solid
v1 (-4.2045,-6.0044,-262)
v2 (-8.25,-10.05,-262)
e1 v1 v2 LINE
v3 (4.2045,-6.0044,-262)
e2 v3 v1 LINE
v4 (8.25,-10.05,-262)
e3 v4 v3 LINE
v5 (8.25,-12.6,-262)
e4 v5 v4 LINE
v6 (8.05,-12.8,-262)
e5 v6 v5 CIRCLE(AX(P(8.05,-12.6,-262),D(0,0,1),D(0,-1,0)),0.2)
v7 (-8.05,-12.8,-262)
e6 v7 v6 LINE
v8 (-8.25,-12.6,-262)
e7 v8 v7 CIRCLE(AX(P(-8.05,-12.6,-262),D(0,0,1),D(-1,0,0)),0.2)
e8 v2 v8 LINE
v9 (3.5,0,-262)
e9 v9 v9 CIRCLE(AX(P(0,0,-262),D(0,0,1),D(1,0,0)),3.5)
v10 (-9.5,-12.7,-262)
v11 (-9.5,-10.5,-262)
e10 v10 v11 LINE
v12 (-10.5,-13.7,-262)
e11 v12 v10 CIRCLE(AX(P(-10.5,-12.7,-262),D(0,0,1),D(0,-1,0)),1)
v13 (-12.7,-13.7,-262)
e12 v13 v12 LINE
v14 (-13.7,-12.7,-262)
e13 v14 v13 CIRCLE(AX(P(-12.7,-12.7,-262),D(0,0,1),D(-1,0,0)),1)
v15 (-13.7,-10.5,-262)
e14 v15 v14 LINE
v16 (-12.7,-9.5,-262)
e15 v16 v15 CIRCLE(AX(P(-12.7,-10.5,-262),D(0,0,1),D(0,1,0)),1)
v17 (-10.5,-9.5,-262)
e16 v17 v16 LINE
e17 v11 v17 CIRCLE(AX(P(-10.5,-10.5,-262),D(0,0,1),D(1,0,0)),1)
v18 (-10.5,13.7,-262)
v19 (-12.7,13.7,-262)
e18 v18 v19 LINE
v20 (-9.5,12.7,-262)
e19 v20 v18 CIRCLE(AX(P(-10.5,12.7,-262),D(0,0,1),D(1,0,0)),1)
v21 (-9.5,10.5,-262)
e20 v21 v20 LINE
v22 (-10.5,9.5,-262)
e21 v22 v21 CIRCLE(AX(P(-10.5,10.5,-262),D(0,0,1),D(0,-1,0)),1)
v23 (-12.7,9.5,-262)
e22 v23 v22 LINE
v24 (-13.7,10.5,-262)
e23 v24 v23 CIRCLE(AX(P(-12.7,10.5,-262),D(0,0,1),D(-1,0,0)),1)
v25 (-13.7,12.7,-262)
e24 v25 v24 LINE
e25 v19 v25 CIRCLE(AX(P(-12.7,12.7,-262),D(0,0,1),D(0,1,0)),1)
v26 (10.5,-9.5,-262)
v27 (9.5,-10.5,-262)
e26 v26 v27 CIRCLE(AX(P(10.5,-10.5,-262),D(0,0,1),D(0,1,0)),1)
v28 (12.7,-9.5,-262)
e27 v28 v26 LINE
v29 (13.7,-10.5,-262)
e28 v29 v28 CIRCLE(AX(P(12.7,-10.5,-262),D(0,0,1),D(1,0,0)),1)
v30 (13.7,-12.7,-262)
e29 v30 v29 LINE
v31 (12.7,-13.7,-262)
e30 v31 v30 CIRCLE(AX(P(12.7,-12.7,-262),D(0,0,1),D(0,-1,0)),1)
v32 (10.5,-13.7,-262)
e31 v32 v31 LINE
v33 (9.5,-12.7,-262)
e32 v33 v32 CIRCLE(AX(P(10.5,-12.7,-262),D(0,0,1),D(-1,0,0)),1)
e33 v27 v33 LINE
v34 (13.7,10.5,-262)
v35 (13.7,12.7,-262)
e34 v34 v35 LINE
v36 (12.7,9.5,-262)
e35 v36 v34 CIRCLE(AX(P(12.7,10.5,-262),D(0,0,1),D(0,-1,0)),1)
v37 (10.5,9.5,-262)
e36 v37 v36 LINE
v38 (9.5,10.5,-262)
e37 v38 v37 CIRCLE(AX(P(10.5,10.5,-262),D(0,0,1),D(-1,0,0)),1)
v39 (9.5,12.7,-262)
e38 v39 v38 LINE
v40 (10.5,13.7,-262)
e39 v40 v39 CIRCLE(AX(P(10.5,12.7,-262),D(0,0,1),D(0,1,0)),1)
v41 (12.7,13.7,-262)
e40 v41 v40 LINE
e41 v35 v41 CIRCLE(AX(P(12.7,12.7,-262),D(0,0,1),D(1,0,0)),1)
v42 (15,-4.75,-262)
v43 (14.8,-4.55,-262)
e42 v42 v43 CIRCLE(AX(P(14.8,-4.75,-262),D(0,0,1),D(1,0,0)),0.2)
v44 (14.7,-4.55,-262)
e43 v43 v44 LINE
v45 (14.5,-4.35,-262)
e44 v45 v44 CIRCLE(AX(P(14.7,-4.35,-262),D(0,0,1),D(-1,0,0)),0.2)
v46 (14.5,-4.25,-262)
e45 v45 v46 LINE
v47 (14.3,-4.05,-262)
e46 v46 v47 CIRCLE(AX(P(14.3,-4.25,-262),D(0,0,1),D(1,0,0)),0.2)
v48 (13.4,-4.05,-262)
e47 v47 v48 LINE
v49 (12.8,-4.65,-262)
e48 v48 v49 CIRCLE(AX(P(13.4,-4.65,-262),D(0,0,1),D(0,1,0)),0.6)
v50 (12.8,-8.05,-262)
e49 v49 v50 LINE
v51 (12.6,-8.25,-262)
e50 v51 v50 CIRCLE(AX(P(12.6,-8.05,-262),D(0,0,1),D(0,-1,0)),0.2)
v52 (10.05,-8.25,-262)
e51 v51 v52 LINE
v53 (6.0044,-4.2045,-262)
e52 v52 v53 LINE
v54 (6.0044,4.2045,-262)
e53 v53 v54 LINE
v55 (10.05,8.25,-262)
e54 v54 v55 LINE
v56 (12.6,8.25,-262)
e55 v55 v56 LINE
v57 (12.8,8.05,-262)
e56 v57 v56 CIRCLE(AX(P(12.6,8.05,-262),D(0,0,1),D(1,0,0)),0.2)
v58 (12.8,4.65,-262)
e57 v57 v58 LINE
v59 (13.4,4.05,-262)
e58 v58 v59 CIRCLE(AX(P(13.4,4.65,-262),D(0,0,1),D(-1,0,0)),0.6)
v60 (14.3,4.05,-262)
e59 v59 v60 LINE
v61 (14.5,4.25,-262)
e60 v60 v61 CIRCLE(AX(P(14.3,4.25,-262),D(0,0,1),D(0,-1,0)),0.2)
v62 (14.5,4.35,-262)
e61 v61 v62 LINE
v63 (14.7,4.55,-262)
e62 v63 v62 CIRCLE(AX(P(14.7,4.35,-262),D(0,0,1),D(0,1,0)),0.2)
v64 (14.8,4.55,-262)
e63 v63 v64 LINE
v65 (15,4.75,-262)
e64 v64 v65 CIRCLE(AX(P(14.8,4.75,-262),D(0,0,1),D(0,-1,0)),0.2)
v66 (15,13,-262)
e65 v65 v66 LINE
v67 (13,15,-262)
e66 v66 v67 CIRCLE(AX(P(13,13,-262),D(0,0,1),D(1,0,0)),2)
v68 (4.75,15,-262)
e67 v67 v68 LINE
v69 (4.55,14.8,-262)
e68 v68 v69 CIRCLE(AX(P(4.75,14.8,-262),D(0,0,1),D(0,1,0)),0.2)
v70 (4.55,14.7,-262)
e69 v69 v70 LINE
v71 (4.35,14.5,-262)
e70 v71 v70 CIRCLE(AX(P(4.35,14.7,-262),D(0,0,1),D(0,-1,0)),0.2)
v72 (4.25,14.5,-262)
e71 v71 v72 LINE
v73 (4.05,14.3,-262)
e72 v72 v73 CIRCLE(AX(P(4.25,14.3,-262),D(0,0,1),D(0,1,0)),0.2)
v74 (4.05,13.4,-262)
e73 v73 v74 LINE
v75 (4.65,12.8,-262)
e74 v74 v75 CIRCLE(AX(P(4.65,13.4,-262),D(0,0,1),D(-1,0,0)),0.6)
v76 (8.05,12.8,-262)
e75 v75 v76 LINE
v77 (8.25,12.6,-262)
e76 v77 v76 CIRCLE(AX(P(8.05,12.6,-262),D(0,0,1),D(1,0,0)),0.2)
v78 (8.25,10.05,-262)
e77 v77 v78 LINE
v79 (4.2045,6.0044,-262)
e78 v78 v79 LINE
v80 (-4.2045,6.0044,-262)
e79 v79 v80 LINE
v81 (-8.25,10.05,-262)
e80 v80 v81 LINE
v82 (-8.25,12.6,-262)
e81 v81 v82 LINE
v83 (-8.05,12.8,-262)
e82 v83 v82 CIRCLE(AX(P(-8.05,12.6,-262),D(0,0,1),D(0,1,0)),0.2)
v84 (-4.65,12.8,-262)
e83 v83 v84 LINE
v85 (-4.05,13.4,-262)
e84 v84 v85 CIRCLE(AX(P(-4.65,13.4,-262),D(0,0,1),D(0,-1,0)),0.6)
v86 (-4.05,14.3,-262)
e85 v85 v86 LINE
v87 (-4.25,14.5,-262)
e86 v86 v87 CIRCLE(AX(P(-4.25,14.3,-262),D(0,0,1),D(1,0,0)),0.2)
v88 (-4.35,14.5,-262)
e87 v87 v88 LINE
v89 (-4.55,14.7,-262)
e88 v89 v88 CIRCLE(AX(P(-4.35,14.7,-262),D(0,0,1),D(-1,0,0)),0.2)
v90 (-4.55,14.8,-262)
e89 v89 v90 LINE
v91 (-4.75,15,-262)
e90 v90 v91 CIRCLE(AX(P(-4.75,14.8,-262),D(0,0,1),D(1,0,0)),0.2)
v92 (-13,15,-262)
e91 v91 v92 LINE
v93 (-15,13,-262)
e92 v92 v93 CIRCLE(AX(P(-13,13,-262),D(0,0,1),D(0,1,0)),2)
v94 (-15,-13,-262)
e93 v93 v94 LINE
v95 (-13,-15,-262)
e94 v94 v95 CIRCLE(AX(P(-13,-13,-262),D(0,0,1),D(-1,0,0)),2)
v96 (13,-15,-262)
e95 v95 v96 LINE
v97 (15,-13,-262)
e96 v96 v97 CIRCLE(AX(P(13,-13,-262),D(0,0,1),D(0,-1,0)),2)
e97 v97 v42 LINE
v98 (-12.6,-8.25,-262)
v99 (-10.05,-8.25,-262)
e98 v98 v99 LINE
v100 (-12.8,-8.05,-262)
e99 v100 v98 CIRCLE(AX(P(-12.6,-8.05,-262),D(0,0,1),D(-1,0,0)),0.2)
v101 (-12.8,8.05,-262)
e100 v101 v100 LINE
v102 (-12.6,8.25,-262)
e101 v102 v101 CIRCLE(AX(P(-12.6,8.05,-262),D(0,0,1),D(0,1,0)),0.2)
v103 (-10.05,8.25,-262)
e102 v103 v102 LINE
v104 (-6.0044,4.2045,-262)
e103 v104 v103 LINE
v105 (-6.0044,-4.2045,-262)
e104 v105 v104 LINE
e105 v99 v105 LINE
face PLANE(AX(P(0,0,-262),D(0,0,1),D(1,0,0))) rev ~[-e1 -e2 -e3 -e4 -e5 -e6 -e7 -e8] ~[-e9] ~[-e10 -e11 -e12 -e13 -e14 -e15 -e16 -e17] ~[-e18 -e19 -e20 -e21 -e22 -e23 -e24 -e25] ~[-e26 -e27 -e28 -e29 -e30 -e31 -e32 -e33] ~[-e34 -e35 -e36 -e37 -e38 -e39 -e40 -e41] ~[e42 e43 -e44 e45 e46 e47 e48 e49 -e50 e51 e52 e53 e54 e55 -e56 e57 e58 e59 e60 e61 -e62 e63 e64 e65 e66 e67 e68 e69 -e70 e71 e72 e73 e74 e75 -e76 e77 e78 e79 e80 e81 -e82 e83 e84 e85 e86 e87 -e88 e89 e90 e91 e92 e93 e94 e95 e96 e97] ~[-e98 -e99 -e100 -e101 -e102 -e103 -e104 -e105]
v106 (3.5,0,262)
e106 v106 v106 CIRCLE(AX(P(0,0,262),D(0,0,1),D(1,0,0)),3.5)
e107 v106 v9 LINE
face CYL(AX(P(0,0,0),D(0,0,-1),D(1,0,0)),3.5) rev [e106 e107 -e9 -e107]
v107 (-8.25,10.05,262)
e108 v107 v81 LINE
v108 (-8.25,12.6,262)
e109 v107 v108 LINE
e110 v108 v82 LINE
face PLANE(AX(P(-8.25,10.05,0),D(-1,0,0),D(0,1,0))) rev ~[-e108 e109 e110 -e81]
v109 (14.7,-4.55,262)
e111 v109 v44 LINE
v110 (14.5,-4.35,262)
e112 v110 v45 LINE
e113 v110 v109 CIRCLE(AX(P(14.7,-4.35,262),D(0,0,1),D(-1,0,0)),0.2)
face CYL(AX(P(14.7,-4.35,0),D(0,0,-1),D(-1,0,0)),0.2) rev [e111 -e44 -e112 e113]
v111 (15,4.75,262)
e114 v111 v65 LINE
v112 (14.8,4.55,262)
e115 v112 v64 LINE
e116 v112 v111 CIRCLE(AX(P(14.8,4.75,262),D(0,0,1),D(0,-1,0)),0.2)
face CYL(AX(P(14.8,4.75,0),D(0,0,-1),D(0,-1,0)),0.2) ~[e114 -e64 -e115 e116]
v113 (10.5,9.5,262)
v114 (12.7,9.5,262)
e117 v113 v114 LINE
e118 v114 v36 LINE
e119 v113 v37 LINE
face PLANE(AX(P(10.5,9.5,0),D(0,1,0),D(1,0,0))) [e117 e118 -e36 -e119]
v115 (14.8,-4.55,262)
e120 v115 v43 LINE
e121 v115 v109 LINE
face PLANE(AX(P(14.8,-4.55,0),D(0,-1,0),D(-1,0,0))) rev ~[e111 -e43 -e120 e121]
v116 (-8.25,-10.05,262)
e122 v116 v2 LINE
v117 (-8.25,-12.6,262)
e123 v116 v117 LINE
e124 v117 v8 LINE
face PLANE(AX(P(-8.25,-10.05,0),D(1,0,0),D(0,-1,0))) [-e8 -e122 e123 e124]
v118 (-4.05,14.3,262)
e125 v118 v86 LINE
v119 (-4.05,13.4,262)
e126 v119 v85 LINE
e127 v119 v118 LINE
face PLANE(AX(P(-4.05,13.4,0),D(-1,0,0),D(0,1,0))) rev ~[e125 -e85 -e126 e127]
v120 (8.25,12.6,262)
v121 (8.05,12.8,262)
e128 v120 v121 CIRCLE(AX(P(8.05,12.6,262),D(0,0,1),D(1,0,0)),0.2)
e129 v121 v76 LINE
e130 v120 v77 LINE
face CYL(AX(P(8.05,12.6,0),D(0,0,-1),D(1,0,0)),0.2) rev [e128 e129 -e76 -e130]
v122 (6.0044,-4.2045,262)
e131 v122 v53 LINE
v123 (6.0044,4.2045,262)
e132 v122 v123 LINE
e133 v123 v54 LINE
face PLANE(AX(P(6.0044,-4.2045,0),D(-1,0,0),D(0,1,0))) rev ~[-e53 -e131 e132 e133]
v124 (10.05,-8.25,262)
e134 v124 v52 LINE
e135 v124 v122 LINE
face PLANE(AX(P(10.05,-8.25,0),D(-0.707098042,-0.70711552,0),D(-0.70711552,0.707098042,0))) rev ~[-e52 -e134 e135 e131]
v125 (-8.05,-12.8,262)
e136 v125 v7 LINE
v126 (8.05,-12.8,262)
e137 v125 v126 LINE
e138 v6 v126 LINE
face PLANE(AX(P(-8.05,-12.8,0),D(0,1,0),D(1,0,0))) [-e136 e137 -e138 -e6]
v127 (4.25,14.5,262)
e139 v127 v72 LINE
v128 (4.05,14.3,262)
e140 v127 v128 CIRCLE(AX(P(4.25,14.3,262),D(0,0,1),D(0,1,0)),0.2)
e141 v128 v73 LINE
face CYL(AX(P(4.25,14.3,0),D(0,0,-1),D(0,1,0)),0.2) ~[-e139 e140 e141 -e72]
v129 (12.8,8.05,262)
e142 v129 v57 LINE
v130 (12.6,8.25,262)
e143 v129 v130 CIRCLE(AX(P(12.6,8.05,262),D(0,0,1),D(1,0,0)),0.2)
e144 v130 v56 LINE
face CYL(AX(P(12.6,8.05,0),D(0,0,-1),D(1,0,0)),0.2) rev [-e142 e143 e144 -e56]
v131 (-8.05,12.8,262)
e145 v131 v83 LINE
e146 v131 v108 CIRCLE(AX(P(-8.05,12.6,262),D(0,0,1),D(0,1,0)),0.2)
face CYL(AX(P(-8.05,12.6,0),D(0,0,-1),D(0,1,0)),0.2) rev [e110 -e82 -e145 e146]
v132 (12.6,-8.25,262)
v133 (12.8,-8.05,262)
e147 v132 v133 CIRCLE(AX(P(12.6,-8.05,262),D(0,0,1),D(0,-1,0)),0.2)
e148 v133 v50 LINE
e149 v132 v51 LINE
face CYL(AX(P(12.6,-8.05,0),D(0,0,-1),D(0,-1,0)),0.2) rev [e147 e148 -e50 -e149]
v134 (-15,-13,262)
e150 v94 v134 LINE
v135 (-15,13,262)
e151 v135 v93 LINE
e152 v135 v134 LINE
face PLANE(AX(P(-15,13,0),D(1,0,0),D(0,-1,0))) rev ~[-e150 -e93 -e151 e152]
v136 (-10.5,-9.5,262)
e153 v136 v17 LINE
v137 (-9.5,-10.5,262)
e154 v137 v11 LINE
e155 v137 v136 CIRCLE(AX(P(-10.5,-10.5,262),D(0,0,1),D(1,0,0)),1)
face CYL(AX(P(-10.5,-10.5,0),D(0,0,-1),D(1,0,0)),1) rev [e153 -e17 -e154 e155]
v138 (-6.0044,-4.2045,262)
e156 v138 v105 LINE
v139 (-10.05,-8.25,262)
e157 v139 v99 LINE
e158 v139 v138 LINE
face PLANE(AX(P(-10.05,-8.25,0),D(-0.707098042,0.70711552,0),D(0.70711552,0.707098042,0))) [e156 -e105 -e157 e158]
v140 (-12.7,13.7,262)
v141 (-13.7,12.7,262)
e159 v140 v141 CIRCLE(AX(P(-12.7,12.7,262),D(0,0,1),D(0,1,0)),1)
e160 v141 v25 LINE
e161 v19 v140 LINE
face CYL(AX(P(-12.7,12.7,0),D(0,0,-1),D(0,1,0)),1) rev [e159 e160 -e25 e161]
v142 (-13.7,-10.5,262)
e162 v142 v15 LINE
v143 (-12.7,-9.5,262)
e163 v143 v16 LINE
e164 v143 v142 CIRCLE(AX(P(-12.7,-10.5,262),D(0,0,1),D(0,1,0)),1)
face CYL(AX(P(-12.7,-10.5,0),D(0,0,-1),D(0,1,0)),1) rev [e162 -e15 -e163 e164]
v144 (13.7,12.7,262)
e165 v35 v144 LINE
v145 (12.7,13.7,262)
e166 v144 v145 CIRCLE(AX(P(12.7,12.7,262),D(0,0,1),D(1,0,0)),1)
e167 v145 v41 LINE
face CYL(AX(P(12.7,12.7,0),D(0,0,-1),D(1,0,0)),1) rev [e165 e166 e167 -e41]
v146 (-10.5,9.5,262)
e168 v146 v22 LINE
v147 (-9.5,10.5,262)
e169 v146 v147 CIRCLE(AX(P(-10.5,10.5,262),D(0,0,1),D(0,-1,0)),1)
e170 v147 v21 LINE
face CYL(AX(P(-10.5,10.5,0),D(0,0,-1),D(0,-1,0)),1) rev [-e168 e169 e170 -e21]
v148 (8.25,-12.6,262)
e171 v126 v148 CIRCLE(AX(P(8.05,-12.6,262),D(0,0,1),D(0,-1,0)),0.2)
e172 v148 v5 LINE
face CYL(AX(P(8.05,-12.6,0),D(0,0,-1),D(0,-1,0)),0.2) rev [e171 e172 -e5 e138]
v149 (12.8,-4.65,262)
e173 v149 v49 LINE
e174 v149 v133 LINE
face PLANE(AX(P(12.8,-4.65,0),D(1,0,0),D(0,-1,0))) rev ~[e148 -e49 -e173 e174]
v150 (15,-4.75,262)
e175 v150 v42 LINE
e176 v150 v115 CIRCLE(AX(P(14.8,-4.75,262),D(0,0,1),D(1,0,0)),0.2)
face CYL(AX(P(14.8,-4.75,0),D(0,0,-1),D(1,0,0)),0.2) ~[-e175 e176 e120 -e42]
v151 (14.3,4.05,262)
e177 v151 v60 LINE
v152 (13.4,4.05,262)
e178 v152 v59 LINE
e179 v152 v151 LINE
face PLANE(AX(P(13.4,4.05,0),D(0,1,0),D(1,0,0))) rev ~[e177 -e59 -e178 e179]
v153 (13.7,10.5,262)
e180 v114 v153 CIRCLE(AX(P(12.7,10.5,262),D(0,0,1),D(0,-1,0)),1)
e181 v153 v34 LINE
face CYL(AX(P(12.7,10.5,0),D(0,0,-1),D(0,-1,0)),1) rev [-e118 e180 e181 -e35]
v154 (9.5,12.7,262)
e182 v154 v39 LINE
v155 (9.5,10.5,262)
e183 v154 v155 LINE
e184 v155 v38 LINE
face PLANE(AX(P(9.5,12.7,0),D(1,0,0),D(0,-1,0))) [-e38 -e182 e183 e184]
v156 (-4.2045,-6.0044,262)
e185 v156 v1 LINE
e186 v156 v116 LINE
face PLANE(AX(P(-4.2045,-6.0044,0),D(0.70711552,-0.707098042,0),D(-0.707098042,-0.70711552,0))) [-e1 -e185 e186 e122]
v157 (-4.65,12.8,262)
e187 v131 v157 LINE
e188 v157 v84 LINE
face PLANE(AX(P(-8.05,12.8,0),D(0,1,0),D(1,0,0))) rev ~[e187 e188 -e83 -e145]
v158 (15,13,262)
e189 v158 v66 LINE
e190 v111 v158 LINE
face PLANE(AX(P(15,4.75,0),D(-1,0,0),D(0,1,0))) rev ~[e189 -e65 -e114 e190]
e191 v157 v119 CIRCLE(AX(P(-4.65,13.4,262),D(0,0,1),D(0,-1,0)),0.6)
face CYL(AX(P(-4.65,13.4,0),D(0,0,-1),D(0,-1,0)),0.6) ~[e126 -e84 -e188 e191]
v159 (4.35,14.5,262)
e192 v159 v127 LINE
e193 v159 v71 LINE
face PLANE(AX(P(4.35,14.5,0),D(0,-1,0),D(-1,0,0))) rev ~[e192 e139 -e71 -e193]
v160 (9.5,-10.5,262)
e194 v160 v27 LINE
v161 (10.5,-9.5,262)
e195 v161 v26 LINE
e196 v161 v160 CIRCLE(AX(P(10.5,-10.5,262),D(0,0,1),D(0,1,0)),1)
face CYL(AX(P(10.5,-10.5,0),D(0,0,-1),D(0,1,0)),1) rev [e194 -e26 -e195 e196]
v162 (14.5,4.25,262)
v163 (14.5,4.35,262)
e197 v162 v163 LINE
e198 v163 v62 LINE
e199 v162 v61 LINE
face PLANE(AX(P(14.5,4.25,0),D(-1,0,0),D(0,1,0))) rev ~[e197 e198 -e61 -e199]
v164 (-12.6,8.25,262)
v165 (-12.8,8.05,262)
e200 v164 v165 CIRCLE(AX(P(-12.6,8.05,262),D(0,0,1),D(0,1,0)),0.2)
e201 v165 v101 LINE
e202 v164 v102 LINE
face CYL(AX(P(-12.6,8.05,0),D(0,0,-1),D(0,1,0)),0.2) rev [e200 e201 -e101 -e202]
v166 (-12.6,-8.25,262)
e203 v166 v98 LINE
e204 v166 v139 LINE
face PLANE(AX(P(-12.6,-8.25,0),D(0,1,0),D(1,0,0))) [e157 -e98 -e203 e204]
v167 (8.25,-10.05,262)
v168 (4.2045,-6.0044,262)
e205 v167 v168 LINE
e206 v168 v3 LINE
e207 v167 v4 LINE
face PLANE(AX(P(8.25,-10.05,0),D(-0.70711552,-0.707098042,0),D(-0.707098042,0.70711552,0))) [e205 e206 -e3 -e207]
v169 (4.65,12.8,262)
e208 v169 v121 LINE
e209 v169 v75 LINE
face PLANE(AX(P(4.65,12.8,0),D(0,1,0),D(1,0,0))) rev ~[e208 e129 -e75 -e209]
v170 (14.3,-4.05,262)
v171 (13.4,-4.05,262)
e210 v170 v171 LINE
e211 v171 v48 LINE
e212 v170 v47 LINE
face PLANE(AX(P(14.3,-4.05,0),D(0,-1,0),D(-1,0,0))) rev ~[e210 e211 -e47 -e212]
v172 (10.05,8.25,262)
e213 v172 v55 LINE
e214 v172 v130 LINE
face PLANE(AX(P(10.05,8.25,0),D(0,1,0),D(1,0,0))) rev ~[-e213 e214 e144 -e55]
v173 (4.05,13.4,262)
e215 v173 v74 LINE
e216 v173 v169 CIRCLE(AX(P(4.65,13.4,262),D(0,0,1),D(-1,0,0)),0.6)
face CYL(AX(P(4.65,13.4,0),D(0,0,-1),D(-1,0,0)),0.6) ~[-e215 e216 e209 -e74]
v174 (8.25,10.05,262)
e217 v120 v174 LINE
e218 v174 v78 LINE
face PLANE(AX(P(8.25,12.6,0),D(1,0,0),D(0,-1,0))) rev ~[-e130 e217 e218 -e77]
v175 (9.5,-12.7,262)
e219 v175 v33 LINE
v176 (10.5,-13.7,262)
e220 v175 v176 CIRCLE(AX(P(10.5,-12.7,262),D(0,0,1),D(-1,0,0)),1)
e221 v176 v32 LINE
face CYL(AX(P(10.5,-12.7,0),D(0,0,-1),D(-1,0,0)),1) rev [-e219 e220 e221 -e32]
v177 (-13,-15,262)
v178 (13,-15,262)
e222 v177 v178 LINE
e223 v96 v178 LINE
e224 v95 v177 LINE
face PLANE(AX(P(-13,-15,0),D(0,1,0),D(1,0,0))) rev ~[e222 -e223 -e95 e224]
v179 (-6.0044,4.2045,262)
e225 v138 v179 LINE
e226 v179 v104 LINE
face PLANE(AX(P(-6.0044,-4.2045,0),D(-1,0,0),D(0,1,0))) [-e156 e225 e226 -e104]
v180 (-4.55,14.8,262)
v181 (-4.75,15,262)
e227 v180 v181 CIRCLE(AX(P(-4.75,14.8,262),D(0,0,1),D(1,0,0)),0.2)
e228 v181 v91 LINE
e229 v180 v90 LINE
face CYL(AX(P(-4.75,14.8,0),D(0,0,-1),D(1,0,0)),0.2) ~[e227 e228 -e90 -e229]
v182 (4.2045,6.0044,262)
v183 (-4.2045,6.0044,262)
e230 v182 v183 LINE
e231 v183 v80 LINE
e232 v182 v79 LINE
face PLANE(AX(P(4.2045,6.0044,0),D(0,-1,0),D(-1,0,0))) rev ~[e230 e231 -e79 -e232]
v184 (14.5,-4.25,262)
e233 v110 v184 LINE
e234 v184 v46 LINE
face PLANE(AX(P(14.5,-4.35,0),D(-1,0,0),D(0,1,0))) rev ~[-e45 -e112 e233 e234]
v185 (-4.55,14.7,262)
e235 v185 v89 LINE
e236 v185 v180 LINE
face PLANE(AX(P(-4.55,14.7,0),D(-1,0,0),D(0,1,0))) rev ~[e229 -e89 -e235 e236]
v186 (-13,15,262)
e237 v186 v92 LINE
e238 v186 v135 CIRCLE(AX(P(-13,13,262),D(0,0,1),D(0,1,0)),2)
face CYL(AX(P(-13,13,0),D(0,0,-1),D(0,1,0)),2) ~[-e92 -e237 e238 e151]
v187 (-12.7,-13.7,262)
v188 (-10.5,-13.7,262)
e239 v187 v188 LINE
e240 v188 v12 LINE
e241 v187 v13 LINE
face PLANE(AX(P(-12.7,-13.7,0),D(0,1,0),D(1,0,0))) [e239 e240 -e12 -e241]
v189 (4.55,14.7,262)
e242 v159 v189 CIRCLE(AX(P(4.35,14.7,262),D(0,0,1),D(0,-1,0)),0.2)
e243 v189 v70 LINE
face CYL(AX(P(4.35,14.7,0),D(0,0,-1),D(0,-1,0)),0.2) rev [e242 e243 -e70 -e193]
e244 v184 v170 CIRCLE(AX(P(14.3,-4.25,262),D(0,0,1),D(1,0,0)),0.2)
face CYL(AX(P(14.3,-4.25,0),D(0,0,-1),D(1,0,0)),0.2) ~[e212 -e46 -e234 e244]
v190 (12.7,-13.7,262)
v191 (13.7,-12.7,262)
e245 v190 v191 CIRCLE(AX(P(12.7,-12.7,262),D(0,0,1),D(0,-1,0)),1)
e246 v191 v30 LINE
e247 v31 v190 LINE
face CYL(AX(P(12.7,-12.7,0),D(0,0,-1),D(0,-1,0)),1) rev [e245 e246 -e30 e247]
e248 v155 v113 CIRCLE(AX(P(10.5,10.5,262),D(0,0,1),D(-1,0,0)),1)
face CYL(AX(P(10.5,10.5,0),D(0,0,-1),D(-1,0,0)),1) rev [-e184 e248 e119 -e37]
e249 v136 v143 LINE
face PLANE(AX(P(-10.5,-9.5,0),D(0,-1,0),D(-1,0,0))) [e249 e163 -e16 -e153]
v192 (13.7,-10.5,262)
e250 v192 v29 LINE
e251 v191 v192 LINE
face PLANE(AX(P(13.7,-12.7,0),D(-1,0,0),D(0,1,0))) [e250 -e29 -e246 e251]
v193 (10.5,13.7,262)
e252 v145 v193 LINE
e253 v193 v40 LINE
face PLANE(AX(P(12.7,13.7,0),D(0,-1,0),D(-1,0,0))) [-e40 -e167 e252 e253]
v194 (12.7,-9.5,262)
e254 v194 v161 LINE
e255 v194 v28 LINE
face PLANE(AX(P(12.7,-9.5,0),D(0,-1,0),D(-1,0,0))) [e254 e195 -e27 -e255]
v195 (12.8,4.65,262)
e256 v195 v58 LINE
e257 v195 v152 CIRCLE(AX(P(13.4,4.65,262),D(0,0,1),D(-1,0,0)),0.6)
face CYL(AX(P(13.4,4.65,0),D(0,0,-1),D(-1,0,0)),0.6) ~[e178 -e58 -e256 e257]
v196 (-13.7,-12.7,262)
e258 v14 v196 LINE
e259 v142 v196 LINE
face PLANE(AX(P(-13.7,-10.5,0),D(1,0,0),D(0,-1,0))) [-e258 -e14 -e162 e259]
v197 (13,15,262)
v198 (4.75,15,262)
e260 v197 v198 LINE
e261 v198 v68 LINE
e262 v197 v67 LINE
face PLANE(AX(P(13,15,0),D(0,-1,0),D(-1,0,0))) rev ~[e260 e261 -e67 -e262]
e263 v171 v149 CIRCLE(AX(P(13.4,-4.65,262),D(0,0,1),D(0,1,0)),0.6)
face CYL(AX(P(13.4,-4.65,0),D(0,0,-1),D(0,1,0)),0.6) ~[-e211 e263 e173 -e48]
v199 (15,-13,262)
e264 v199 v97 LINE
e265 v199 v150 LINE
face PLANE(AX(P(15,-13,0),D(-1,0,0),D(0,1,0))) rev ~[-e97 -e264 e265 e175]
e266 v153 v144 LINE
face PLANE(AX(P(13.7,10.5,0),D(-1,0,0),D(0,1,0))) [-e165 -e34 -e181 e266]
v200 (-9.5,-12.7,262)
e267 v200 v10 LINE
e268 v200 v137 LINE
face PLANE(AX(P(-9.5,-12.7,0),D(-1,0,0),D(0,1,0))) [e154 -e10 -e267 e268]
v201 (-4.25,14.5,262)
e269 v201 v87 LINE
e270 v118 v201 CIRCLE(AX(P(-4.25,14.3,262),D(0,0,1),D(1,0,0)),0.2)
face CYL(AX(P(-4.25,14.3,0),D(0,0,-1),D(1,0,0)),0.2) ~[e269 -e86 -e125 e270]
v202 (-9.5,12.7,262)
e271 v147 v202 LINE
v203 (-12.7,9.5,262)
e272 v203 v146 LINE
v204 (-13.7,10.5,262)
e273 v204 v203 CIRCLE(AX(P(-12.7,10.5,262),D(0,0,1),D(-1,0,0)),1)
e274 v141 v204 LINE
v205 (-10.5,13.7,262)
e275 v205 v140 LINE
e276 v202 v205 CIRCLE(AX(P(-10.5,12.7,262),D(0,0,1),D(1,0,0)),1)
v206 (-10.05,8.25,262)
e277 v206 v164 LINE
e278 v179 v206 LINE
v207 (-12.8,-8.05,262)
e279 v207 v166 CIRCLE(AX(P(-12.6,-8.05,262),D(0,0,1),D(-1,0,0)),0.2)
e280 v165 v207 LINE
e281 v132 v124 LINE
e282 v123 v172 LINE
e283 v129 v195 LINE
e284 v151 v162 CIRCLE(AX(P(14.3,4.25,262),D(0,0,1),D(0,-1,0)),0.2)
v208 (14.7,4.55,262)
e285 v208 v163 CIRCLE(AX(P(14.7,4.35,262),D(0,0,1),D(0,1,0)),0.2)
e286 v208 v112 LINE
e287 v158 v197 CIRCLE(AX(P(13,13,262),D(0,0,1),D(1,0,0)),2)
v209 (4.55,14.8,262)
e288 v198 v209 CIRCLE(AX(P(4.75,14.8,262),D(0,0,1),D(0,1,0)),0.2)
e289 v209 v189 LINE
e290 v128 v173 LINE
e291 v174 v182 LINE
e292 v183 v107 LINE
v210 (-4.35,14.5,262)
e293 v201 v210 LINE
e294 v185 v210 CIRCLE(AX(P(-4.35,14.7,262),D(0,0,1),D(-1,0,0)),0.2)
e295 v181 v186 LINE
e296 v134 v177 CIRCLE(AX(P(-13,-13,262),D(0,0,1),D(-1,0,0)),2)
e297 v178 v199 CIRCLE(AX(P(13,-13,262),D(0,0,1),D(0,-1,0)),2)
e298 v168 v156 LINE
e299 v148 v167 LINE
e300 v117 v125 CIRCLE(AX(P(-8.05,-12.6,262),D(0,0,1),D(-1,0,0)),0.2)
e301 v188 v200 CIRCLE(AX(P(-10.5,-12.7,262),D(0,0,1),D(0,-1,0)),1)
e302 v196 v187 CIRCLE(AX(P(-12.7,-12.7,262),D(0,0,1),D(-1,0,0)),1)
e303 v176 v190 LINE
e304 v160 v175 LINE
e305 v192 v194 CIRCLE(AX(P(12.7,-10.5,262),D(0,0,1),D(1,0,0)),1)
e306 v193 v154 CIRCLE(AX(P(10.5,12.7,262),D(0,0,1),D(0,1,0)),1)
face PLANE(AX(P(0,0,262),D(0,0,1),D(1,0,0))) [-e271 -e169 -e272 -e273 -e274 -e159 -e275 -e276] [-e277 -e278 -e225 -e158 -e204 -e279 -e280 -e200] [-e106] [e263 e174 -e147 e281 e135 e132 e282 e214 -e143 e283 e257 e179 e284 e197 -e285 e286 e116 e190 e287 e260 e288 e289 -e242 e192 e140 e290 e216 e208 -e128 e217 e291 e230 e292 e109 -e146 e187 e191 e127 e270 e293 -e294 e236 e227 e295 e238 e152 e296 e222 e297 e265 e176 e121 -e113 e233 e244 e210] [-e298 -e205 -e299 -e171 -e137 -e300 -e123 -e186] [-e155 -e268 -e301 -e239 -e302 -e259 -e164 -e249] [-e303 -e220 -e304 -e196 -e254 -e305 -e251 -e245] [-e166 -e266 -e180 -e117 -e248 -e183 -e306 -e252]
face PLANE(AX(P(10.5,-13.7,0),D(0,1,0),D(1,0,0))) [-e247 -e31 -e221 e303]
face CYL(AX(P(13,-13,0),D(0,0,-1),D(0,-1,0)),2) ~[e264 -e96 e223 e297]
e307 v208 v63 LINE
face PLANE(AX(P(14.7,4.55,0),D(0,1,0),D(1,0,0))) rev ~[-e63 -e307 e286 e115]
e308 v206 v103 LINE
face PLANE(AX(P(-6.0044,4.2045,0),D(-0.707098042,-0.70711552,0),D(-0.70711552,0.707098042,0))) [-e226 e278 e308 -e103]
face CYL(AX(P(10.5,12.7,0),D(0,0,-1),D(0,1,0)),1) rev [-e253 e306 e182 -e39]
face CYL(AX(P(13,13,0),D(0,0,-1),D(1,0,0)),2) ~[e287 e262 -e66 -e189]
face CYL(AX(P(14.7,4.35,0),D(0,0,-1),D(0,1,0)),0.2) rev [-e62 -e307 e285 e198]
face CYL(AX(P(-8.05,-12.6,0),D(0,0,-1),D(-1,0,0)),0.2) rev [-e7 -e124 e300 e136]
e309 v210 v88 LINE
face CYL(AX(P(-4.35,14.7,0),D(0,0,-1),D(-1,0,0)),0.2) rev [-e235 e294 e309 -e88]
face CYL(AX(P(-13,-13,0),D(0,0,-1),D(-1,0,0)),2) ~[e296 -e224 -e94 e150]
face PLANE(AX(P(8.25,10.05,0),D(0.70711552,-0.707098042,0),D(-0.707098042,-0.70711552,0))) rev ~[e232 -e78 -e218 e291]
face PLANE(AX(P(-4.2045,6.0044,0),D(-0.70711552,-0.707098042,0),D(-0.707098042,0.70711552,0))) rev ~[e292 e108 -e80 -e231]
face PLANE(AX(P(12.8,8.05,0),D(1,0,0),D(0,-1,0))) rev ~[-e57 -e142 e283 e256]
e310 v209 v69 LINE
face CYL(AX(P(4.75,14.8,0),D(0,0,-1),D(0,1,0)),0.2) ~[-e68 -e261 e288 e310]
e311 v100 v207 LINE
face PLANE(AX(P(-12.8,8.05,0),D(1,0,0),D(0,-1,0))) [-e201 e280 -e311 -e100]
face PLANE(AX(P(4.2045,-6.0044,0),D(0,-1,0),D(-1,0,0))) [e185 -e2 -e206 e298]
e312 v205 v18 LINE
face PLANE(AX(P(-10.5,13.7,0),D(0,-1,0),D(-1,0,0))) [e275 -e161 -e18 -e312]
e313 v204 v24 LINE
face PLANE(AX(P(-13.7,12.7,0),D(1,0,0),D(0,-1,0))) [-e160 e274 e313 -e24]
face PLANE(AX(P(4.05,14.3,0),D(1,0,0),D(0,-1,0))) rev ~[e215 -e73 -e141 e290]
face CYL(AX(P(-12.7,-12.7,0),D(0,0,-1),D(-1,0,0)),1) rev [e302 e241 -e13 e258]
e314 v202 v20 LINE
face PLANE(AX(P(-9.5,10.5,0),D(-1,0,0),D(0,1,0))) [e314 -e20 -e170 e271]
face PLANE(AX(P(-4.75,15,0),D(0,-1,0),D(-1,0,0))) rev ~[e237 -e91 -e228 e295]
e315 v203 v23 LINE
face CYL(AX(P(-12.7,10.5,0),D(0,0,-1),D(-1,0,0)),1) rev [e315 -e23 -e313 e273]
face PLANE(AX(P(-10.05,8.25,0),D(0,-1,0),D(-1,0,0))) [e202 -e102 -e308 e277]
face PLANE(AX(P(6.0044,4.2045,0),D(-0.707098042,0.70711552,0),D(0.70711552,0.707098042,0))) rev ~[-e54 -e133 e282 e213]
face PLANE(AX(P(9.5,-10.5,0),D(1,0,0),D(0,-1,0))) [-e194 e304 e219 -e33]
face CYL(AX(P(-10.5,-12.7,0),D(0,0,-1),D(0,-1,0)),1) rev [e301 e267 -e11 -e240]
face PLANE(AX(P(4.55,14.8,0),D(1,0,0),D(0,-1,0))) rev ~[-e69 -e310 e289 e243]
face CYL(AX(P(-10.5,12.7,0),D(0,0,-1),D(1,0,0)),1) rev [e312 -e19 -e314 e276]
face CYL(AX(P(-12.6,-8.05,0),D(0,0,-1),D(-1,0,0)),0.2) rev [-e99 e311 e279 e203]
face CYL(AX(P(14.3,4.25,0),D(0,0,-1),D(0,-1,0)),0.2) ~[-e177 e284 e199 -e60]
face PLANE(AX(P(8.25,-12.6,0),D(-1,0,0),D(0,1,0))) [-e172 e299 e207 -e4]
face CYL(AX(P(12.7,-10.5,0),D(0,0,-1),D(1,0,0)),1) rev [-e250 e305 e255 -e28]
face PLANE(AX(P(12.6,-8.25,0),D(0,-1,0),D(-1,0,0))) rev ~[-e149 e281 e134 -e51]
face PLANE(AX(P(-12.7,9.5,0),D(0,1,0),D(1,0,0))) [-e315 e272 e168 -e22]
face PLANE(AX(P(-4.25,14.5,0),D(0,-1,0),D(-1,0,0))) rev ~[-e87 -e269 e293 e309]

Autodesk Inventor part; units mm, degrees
ref_plane "YZ Plane" through (0, 0, 0) normal (1, 0, 0) x (0, 1, 0)
ref_plane "XZ Plane" through (0, 0, 0) normal (0, 1, 0) x (-1, 0, 0)
ref_plane "XY Plane" through (0, 0, 0) normal (0, 0, 1) x (1, 0, 0)
feature "Boss-Extrude1" [suppressed]
sketch "Sketch1" plane through (0, 0, 0) normal (0, 0, 1) x (1, 0, 0)
  arc A0 (-15, -13) -> (-13, -15) centre (-13, -13) ccw projected
  line L0 (-13, -15) -> (13, -15) projected
  arc A1 (13, -15) -> (15, -13) centre (13, -13) ccw projected
  line L1 (15, -13) -> (15, -4.75) projected
  arc A2 (15, -4.75) -> (14.8, -4.55) centre (14.8, -4.75) ccw projected
  line L2 (14.8, -4.55) -> (14.7, -4.55) projected
  arc A3 (14.5, -4.35) -> (14.7, -4.55) centre (14.7, -4.35) ccw projected
  line L3 (14.5, -4.35) -> (14.5, -4.25) projected
  arc A4 (14.5, -4.25) -> (14.3, -4.05) centre (14.3, -4.25) ccw projected
  line L4 (14.3, -4.05) -> (13.4, -4.05) projected
  arc A5 (13.4, -4.05) -> (12.8, -4.65) centre (13.4, -4.65) ccw projected
  line L5 (12.8, -4.65) -> (12.8, -8.05) projected
  arc A6 (12.6, -8.25) -> (12.8, -8.05) centre (12.6, -8.05) ccw projected
  line L6 (12.6, -8.25) -> (10.05, -8.25) projected
  line L7 (10.05, -8.25) -> (6.0044, -4.2045) projected
  line L8 (6.0044, -4.2045) -> (6.0044, 4.2045) projected
  line L9 (6.0044, 4.2045) -> (10.05, 8.25) projected
  line L10 (10.05, 8.25) -> (12.6, 8.25) projected
  arc A7 (12.8, 8.05) -> (12.6, 8.25) centre (12.6, 8.05) ccw projected
  line L11 (12.8, 8.05) -> (12.8, 4.65) projected
  arc A8 (12.8, 4.65) -> (13.4, 4.05) centre (13.4, 4.65) ccw projected
  line L12 (13.4, 4.05) -> (14.3, 4.05) projected
  arc A9 (14.3, 4.05) -> (14.5, 4.25) centre (14.3, 4.25) ccw projected
  line L13 (14.5, 4.25) -> (14.5, 4.35) projected
  arc A10 (14.7, 4.55) -> (14.5, 4.35) centre (14.7, 4.35) ccw projected
  line L14 (14.7, 4.55) -> (14.8, 4.55) projected
  arc A11 (14.8, 4.55) -> (15, 4.75) centre (14.8, 4.75) ccw projected
  line L15 (15, 4.75) -> (15, 13) projected
  arc A12 (15, 13) -> (13, 15) centre (13, 13) ccw projected
  line L16 (13, 15) -> (4.75, 15) projected
  arc A13 (4.75, 15) -> (4.55, 14.8) centre (4.75, 14.8) ccw projected
  line L17 (4.55, 14.8) -> (4.55, 14.7) projected
  arc A14 (4.35, 14.5) -> (4.55, 14.7) centre (4.35, 14.7) ccw projected
  line L18 (4.35, 14.5) -> (4.25, 14.5) projected
  arc A15 (4.25, 14.5) -> (4.05, 14.3) centre (4.25, 14.3) ccw projected
  line L19 (4.05, 14.3) -> (4.05, 13.4) projected
  arc A16 (4.05, 13.4) -> (4.65, 12.8) centre (4.65, 13.4) ccw projected
  line L20 (4.65, 12.8) -> (8.05, 12.8) projected
  arc A17 (8.25, 12.6) -> (8.05, 12.8) centre (8.05, 12.6) ccw projected
  line L21 (8.25, 12.6) -> (8.25, 10.05) projected
  line L22 (8.25, 10.05) -> (4.2045, 6.0044) projected
  line L23 (4.2045, 6.0044) -> (-4.2045, 6.0044) projected
  line L24 (-4.2045, 6.0044) -> (-8.25, 10.05) projected
  line L25 (-8.25, 10.05) -> (-8.25, 12.6) projected
  arc A18 (-8.05, 12.8) -> (-8.25, 12.6) centre (-8.05, 12.6) ccw projected
  line L26 (-8.05, 12.8) -> (-4.65, 12.8) projected
  arc A19 (-4.65, 12.8) -> (-4.05, 13.4) centre (-4.65, 13.4) ccw projected
  line L27 (-4.05, 13.4) -> (-4.05, 14.3) projected
  arc A20 (-4.05, 14.3) -> (-4.25, 14.5) centre (-4.25, 14.3) ccw projected
  line L28 (-4.25, 14.5) -> (-4.35, 14.5) projected
  arc A21 (-4.55, 14.7) -> (-4.35, 14.5) centre (-4.35, 14.7) ccw projected
  line L29 (-4.55, 14.7) -> (-4.55, 14.8) projected
  arc A22 (-4.55, 14.8) -> (-4.75, 15) centre (-4.75, 14.8) ccw projected
  line L30 (-4.75, 15) -> (-13, 15) projected
  arc A23 (-13, 15) -> (-15, 13) centre (-13, 13) ccw projected
  line L31 (-15, 13) -> (-15, -13) projected
  circle A24 centre (0, 0) radius 3.5 projected
  arc A25 (12.7, -13.7) -> (13.7, -12.7) centre (12.7, -12.7) ccw projected
  line L32 (10.5, -13.7) -> (12.7, -13.7) projected
  arc A26 (9.5, -12.7) -> (10.5, -13.7) centre (10.5, -12.7) ccw projected
  line L33 (9.5, -10.5) -> (9.5, -12.7) projected
  arc A27 (10.5, -9.5) -> (9.5, -10.5) centre (10.5, -10.5) ccw projected
  line L34 (12.7, -9.5) -> (10.5, -9.5) projected
  arc A28 (13.7, -10.5) -> (12.7, -9.5) centre (12.7, -10.5) ccw projected
  line L35 (13.7, -12.7) -> (13.7, -10.5) projected
  arc A29 (13.7, 12.7) -> (12.7, 13.7) centre (12.7, 12.7) ccw projected
  line L36 (13.7, 10.5) -> (13.7, 12.7) projected
  arc A30 (12.7, 9.5) -> (13.7, 10.5) centre (12.7, 10.5) ccw projected
  line L37 (10.5, 9.5) -> (12.7, 9.5) projected
  arc A31 (9.5, 10.5) -> (10.5, 9.5) centre (10.5, 10.5) ccw projected
  line L38 (9.5, 12.7) -> (9.5, 10.5) projected
  arc A32 (10.5, 13.7) -> (9.5, 12.7) centre (10.5, 12.7) ccw projected
  line L39 (12.7, 13.7) -> (10.5, 13.7) projected
  arc A33 (8.05, -12.8) -> (8.25, -12.6) centre (8.05, -12.6) ccw projected
  line L40 (-8.05, -12.8) -> (8.05, -12.8) projected
  arc A34 (-8.25, -12.6) -> (-8.05, -12.8) centre (-8.05, -12.6) ccw projected
  line L41 (-8.25, -10.05) -> (-8.25, -12.6) projected
  line L42 (-4.2045, -6.0044) -> (-8.25, -10.05) projected
  line L43 (4.2045, -6.0044) -> (-4.2045, -6.0044) projected
  line L44 (8.25, -10.05) -> (4.2045, -6.0044) projected
  line L45 (8.25, -12.6) -> (8.25, -10.05) projected
  arc A35 (-13.7, -12.7) -> (-12.7, -13.7) centre (-12.7, -12.7) ccw projected
  line L46 (-13.7, -10.5) -> (-13.7, -12.7) projected
  arc A36 (-12.7, -9.5) -> (-13.7, -10.5) centre (-12.7, -10.5) ccw projected
  line L47 (-10.5, -9.5) -> (-12.7, -9.5) projected
  arc A37 (-9.5, -10.5) -> (-10.5, -9.5) centre (-10.5, -10.5) ccw projected
  line L48 (-9.5, -12.7) -> (-9.5, -10.5) projected
  arc A38 (-10.5, -13.7) -> (-9.5, -12.7) centre (-10.5, -12.7) ccw projected
  line L49 (-12.7, -13.7) -> (-10.5, -13.7) projected
  arc A39 (-12.7, 13.7) -> (-13.7, 12.7) centre (-12.7, 12.7) ccw projected
  line L50 (-10.5, 13.7) -> (-12.7, 13.7) projected
  arc A40 (-9.5, 12.7) -> (-10.5, 13.7) centre (-10.5, 12.7) ccw projected
  line L51 (-9.5, 10.5) -> (-9.5, 12.7) projected
  arc A41 (-10.5, 9.5) -> (-9.5, 10.5) centre (-10.5, 10.5) ccw projected
  line L52 (-12.7, 9.5) -> (-10.5, 9.5) projected
  arc A42 (-13.7, 10.5) -> (-12.7, 9.5) centre (-12.7, 10.5) ccw projected
  line L53 (-13.7, 12.7) -> (-13.7, 10.5) projected
  arc A43 (-12.8, -8.05) -> (-12.6, -8.25) centre (-12.6, -8.05) ccw projected
  line L54 (-12.8, 8.05) -> (-12.8, -8.05) projected
  arc A44 (-12.6, 8.25) -> (-12.8, 8.05) centre (-12.6, 8.05) ccw projected
  line L55 (-10.05, 8.25) -> (-12.6, 8.25) projected
  line L56 (-6.0044, 4.2045) -> (-10.05, 8.25) projected
  line L57 (-6.0044, -4.2045) -> (-6.0044, 4.2045) projected
  line L58 (-10.05, -8.25) -> (-6.0044, -4.2045) projected
  line L59 (-12.6, -8.25) -> (-10.05, -8.25) projected
  point P0 (0, 0)
extrude "Extrusion1" add sketch "Sketch1" along normal mid plane 524
